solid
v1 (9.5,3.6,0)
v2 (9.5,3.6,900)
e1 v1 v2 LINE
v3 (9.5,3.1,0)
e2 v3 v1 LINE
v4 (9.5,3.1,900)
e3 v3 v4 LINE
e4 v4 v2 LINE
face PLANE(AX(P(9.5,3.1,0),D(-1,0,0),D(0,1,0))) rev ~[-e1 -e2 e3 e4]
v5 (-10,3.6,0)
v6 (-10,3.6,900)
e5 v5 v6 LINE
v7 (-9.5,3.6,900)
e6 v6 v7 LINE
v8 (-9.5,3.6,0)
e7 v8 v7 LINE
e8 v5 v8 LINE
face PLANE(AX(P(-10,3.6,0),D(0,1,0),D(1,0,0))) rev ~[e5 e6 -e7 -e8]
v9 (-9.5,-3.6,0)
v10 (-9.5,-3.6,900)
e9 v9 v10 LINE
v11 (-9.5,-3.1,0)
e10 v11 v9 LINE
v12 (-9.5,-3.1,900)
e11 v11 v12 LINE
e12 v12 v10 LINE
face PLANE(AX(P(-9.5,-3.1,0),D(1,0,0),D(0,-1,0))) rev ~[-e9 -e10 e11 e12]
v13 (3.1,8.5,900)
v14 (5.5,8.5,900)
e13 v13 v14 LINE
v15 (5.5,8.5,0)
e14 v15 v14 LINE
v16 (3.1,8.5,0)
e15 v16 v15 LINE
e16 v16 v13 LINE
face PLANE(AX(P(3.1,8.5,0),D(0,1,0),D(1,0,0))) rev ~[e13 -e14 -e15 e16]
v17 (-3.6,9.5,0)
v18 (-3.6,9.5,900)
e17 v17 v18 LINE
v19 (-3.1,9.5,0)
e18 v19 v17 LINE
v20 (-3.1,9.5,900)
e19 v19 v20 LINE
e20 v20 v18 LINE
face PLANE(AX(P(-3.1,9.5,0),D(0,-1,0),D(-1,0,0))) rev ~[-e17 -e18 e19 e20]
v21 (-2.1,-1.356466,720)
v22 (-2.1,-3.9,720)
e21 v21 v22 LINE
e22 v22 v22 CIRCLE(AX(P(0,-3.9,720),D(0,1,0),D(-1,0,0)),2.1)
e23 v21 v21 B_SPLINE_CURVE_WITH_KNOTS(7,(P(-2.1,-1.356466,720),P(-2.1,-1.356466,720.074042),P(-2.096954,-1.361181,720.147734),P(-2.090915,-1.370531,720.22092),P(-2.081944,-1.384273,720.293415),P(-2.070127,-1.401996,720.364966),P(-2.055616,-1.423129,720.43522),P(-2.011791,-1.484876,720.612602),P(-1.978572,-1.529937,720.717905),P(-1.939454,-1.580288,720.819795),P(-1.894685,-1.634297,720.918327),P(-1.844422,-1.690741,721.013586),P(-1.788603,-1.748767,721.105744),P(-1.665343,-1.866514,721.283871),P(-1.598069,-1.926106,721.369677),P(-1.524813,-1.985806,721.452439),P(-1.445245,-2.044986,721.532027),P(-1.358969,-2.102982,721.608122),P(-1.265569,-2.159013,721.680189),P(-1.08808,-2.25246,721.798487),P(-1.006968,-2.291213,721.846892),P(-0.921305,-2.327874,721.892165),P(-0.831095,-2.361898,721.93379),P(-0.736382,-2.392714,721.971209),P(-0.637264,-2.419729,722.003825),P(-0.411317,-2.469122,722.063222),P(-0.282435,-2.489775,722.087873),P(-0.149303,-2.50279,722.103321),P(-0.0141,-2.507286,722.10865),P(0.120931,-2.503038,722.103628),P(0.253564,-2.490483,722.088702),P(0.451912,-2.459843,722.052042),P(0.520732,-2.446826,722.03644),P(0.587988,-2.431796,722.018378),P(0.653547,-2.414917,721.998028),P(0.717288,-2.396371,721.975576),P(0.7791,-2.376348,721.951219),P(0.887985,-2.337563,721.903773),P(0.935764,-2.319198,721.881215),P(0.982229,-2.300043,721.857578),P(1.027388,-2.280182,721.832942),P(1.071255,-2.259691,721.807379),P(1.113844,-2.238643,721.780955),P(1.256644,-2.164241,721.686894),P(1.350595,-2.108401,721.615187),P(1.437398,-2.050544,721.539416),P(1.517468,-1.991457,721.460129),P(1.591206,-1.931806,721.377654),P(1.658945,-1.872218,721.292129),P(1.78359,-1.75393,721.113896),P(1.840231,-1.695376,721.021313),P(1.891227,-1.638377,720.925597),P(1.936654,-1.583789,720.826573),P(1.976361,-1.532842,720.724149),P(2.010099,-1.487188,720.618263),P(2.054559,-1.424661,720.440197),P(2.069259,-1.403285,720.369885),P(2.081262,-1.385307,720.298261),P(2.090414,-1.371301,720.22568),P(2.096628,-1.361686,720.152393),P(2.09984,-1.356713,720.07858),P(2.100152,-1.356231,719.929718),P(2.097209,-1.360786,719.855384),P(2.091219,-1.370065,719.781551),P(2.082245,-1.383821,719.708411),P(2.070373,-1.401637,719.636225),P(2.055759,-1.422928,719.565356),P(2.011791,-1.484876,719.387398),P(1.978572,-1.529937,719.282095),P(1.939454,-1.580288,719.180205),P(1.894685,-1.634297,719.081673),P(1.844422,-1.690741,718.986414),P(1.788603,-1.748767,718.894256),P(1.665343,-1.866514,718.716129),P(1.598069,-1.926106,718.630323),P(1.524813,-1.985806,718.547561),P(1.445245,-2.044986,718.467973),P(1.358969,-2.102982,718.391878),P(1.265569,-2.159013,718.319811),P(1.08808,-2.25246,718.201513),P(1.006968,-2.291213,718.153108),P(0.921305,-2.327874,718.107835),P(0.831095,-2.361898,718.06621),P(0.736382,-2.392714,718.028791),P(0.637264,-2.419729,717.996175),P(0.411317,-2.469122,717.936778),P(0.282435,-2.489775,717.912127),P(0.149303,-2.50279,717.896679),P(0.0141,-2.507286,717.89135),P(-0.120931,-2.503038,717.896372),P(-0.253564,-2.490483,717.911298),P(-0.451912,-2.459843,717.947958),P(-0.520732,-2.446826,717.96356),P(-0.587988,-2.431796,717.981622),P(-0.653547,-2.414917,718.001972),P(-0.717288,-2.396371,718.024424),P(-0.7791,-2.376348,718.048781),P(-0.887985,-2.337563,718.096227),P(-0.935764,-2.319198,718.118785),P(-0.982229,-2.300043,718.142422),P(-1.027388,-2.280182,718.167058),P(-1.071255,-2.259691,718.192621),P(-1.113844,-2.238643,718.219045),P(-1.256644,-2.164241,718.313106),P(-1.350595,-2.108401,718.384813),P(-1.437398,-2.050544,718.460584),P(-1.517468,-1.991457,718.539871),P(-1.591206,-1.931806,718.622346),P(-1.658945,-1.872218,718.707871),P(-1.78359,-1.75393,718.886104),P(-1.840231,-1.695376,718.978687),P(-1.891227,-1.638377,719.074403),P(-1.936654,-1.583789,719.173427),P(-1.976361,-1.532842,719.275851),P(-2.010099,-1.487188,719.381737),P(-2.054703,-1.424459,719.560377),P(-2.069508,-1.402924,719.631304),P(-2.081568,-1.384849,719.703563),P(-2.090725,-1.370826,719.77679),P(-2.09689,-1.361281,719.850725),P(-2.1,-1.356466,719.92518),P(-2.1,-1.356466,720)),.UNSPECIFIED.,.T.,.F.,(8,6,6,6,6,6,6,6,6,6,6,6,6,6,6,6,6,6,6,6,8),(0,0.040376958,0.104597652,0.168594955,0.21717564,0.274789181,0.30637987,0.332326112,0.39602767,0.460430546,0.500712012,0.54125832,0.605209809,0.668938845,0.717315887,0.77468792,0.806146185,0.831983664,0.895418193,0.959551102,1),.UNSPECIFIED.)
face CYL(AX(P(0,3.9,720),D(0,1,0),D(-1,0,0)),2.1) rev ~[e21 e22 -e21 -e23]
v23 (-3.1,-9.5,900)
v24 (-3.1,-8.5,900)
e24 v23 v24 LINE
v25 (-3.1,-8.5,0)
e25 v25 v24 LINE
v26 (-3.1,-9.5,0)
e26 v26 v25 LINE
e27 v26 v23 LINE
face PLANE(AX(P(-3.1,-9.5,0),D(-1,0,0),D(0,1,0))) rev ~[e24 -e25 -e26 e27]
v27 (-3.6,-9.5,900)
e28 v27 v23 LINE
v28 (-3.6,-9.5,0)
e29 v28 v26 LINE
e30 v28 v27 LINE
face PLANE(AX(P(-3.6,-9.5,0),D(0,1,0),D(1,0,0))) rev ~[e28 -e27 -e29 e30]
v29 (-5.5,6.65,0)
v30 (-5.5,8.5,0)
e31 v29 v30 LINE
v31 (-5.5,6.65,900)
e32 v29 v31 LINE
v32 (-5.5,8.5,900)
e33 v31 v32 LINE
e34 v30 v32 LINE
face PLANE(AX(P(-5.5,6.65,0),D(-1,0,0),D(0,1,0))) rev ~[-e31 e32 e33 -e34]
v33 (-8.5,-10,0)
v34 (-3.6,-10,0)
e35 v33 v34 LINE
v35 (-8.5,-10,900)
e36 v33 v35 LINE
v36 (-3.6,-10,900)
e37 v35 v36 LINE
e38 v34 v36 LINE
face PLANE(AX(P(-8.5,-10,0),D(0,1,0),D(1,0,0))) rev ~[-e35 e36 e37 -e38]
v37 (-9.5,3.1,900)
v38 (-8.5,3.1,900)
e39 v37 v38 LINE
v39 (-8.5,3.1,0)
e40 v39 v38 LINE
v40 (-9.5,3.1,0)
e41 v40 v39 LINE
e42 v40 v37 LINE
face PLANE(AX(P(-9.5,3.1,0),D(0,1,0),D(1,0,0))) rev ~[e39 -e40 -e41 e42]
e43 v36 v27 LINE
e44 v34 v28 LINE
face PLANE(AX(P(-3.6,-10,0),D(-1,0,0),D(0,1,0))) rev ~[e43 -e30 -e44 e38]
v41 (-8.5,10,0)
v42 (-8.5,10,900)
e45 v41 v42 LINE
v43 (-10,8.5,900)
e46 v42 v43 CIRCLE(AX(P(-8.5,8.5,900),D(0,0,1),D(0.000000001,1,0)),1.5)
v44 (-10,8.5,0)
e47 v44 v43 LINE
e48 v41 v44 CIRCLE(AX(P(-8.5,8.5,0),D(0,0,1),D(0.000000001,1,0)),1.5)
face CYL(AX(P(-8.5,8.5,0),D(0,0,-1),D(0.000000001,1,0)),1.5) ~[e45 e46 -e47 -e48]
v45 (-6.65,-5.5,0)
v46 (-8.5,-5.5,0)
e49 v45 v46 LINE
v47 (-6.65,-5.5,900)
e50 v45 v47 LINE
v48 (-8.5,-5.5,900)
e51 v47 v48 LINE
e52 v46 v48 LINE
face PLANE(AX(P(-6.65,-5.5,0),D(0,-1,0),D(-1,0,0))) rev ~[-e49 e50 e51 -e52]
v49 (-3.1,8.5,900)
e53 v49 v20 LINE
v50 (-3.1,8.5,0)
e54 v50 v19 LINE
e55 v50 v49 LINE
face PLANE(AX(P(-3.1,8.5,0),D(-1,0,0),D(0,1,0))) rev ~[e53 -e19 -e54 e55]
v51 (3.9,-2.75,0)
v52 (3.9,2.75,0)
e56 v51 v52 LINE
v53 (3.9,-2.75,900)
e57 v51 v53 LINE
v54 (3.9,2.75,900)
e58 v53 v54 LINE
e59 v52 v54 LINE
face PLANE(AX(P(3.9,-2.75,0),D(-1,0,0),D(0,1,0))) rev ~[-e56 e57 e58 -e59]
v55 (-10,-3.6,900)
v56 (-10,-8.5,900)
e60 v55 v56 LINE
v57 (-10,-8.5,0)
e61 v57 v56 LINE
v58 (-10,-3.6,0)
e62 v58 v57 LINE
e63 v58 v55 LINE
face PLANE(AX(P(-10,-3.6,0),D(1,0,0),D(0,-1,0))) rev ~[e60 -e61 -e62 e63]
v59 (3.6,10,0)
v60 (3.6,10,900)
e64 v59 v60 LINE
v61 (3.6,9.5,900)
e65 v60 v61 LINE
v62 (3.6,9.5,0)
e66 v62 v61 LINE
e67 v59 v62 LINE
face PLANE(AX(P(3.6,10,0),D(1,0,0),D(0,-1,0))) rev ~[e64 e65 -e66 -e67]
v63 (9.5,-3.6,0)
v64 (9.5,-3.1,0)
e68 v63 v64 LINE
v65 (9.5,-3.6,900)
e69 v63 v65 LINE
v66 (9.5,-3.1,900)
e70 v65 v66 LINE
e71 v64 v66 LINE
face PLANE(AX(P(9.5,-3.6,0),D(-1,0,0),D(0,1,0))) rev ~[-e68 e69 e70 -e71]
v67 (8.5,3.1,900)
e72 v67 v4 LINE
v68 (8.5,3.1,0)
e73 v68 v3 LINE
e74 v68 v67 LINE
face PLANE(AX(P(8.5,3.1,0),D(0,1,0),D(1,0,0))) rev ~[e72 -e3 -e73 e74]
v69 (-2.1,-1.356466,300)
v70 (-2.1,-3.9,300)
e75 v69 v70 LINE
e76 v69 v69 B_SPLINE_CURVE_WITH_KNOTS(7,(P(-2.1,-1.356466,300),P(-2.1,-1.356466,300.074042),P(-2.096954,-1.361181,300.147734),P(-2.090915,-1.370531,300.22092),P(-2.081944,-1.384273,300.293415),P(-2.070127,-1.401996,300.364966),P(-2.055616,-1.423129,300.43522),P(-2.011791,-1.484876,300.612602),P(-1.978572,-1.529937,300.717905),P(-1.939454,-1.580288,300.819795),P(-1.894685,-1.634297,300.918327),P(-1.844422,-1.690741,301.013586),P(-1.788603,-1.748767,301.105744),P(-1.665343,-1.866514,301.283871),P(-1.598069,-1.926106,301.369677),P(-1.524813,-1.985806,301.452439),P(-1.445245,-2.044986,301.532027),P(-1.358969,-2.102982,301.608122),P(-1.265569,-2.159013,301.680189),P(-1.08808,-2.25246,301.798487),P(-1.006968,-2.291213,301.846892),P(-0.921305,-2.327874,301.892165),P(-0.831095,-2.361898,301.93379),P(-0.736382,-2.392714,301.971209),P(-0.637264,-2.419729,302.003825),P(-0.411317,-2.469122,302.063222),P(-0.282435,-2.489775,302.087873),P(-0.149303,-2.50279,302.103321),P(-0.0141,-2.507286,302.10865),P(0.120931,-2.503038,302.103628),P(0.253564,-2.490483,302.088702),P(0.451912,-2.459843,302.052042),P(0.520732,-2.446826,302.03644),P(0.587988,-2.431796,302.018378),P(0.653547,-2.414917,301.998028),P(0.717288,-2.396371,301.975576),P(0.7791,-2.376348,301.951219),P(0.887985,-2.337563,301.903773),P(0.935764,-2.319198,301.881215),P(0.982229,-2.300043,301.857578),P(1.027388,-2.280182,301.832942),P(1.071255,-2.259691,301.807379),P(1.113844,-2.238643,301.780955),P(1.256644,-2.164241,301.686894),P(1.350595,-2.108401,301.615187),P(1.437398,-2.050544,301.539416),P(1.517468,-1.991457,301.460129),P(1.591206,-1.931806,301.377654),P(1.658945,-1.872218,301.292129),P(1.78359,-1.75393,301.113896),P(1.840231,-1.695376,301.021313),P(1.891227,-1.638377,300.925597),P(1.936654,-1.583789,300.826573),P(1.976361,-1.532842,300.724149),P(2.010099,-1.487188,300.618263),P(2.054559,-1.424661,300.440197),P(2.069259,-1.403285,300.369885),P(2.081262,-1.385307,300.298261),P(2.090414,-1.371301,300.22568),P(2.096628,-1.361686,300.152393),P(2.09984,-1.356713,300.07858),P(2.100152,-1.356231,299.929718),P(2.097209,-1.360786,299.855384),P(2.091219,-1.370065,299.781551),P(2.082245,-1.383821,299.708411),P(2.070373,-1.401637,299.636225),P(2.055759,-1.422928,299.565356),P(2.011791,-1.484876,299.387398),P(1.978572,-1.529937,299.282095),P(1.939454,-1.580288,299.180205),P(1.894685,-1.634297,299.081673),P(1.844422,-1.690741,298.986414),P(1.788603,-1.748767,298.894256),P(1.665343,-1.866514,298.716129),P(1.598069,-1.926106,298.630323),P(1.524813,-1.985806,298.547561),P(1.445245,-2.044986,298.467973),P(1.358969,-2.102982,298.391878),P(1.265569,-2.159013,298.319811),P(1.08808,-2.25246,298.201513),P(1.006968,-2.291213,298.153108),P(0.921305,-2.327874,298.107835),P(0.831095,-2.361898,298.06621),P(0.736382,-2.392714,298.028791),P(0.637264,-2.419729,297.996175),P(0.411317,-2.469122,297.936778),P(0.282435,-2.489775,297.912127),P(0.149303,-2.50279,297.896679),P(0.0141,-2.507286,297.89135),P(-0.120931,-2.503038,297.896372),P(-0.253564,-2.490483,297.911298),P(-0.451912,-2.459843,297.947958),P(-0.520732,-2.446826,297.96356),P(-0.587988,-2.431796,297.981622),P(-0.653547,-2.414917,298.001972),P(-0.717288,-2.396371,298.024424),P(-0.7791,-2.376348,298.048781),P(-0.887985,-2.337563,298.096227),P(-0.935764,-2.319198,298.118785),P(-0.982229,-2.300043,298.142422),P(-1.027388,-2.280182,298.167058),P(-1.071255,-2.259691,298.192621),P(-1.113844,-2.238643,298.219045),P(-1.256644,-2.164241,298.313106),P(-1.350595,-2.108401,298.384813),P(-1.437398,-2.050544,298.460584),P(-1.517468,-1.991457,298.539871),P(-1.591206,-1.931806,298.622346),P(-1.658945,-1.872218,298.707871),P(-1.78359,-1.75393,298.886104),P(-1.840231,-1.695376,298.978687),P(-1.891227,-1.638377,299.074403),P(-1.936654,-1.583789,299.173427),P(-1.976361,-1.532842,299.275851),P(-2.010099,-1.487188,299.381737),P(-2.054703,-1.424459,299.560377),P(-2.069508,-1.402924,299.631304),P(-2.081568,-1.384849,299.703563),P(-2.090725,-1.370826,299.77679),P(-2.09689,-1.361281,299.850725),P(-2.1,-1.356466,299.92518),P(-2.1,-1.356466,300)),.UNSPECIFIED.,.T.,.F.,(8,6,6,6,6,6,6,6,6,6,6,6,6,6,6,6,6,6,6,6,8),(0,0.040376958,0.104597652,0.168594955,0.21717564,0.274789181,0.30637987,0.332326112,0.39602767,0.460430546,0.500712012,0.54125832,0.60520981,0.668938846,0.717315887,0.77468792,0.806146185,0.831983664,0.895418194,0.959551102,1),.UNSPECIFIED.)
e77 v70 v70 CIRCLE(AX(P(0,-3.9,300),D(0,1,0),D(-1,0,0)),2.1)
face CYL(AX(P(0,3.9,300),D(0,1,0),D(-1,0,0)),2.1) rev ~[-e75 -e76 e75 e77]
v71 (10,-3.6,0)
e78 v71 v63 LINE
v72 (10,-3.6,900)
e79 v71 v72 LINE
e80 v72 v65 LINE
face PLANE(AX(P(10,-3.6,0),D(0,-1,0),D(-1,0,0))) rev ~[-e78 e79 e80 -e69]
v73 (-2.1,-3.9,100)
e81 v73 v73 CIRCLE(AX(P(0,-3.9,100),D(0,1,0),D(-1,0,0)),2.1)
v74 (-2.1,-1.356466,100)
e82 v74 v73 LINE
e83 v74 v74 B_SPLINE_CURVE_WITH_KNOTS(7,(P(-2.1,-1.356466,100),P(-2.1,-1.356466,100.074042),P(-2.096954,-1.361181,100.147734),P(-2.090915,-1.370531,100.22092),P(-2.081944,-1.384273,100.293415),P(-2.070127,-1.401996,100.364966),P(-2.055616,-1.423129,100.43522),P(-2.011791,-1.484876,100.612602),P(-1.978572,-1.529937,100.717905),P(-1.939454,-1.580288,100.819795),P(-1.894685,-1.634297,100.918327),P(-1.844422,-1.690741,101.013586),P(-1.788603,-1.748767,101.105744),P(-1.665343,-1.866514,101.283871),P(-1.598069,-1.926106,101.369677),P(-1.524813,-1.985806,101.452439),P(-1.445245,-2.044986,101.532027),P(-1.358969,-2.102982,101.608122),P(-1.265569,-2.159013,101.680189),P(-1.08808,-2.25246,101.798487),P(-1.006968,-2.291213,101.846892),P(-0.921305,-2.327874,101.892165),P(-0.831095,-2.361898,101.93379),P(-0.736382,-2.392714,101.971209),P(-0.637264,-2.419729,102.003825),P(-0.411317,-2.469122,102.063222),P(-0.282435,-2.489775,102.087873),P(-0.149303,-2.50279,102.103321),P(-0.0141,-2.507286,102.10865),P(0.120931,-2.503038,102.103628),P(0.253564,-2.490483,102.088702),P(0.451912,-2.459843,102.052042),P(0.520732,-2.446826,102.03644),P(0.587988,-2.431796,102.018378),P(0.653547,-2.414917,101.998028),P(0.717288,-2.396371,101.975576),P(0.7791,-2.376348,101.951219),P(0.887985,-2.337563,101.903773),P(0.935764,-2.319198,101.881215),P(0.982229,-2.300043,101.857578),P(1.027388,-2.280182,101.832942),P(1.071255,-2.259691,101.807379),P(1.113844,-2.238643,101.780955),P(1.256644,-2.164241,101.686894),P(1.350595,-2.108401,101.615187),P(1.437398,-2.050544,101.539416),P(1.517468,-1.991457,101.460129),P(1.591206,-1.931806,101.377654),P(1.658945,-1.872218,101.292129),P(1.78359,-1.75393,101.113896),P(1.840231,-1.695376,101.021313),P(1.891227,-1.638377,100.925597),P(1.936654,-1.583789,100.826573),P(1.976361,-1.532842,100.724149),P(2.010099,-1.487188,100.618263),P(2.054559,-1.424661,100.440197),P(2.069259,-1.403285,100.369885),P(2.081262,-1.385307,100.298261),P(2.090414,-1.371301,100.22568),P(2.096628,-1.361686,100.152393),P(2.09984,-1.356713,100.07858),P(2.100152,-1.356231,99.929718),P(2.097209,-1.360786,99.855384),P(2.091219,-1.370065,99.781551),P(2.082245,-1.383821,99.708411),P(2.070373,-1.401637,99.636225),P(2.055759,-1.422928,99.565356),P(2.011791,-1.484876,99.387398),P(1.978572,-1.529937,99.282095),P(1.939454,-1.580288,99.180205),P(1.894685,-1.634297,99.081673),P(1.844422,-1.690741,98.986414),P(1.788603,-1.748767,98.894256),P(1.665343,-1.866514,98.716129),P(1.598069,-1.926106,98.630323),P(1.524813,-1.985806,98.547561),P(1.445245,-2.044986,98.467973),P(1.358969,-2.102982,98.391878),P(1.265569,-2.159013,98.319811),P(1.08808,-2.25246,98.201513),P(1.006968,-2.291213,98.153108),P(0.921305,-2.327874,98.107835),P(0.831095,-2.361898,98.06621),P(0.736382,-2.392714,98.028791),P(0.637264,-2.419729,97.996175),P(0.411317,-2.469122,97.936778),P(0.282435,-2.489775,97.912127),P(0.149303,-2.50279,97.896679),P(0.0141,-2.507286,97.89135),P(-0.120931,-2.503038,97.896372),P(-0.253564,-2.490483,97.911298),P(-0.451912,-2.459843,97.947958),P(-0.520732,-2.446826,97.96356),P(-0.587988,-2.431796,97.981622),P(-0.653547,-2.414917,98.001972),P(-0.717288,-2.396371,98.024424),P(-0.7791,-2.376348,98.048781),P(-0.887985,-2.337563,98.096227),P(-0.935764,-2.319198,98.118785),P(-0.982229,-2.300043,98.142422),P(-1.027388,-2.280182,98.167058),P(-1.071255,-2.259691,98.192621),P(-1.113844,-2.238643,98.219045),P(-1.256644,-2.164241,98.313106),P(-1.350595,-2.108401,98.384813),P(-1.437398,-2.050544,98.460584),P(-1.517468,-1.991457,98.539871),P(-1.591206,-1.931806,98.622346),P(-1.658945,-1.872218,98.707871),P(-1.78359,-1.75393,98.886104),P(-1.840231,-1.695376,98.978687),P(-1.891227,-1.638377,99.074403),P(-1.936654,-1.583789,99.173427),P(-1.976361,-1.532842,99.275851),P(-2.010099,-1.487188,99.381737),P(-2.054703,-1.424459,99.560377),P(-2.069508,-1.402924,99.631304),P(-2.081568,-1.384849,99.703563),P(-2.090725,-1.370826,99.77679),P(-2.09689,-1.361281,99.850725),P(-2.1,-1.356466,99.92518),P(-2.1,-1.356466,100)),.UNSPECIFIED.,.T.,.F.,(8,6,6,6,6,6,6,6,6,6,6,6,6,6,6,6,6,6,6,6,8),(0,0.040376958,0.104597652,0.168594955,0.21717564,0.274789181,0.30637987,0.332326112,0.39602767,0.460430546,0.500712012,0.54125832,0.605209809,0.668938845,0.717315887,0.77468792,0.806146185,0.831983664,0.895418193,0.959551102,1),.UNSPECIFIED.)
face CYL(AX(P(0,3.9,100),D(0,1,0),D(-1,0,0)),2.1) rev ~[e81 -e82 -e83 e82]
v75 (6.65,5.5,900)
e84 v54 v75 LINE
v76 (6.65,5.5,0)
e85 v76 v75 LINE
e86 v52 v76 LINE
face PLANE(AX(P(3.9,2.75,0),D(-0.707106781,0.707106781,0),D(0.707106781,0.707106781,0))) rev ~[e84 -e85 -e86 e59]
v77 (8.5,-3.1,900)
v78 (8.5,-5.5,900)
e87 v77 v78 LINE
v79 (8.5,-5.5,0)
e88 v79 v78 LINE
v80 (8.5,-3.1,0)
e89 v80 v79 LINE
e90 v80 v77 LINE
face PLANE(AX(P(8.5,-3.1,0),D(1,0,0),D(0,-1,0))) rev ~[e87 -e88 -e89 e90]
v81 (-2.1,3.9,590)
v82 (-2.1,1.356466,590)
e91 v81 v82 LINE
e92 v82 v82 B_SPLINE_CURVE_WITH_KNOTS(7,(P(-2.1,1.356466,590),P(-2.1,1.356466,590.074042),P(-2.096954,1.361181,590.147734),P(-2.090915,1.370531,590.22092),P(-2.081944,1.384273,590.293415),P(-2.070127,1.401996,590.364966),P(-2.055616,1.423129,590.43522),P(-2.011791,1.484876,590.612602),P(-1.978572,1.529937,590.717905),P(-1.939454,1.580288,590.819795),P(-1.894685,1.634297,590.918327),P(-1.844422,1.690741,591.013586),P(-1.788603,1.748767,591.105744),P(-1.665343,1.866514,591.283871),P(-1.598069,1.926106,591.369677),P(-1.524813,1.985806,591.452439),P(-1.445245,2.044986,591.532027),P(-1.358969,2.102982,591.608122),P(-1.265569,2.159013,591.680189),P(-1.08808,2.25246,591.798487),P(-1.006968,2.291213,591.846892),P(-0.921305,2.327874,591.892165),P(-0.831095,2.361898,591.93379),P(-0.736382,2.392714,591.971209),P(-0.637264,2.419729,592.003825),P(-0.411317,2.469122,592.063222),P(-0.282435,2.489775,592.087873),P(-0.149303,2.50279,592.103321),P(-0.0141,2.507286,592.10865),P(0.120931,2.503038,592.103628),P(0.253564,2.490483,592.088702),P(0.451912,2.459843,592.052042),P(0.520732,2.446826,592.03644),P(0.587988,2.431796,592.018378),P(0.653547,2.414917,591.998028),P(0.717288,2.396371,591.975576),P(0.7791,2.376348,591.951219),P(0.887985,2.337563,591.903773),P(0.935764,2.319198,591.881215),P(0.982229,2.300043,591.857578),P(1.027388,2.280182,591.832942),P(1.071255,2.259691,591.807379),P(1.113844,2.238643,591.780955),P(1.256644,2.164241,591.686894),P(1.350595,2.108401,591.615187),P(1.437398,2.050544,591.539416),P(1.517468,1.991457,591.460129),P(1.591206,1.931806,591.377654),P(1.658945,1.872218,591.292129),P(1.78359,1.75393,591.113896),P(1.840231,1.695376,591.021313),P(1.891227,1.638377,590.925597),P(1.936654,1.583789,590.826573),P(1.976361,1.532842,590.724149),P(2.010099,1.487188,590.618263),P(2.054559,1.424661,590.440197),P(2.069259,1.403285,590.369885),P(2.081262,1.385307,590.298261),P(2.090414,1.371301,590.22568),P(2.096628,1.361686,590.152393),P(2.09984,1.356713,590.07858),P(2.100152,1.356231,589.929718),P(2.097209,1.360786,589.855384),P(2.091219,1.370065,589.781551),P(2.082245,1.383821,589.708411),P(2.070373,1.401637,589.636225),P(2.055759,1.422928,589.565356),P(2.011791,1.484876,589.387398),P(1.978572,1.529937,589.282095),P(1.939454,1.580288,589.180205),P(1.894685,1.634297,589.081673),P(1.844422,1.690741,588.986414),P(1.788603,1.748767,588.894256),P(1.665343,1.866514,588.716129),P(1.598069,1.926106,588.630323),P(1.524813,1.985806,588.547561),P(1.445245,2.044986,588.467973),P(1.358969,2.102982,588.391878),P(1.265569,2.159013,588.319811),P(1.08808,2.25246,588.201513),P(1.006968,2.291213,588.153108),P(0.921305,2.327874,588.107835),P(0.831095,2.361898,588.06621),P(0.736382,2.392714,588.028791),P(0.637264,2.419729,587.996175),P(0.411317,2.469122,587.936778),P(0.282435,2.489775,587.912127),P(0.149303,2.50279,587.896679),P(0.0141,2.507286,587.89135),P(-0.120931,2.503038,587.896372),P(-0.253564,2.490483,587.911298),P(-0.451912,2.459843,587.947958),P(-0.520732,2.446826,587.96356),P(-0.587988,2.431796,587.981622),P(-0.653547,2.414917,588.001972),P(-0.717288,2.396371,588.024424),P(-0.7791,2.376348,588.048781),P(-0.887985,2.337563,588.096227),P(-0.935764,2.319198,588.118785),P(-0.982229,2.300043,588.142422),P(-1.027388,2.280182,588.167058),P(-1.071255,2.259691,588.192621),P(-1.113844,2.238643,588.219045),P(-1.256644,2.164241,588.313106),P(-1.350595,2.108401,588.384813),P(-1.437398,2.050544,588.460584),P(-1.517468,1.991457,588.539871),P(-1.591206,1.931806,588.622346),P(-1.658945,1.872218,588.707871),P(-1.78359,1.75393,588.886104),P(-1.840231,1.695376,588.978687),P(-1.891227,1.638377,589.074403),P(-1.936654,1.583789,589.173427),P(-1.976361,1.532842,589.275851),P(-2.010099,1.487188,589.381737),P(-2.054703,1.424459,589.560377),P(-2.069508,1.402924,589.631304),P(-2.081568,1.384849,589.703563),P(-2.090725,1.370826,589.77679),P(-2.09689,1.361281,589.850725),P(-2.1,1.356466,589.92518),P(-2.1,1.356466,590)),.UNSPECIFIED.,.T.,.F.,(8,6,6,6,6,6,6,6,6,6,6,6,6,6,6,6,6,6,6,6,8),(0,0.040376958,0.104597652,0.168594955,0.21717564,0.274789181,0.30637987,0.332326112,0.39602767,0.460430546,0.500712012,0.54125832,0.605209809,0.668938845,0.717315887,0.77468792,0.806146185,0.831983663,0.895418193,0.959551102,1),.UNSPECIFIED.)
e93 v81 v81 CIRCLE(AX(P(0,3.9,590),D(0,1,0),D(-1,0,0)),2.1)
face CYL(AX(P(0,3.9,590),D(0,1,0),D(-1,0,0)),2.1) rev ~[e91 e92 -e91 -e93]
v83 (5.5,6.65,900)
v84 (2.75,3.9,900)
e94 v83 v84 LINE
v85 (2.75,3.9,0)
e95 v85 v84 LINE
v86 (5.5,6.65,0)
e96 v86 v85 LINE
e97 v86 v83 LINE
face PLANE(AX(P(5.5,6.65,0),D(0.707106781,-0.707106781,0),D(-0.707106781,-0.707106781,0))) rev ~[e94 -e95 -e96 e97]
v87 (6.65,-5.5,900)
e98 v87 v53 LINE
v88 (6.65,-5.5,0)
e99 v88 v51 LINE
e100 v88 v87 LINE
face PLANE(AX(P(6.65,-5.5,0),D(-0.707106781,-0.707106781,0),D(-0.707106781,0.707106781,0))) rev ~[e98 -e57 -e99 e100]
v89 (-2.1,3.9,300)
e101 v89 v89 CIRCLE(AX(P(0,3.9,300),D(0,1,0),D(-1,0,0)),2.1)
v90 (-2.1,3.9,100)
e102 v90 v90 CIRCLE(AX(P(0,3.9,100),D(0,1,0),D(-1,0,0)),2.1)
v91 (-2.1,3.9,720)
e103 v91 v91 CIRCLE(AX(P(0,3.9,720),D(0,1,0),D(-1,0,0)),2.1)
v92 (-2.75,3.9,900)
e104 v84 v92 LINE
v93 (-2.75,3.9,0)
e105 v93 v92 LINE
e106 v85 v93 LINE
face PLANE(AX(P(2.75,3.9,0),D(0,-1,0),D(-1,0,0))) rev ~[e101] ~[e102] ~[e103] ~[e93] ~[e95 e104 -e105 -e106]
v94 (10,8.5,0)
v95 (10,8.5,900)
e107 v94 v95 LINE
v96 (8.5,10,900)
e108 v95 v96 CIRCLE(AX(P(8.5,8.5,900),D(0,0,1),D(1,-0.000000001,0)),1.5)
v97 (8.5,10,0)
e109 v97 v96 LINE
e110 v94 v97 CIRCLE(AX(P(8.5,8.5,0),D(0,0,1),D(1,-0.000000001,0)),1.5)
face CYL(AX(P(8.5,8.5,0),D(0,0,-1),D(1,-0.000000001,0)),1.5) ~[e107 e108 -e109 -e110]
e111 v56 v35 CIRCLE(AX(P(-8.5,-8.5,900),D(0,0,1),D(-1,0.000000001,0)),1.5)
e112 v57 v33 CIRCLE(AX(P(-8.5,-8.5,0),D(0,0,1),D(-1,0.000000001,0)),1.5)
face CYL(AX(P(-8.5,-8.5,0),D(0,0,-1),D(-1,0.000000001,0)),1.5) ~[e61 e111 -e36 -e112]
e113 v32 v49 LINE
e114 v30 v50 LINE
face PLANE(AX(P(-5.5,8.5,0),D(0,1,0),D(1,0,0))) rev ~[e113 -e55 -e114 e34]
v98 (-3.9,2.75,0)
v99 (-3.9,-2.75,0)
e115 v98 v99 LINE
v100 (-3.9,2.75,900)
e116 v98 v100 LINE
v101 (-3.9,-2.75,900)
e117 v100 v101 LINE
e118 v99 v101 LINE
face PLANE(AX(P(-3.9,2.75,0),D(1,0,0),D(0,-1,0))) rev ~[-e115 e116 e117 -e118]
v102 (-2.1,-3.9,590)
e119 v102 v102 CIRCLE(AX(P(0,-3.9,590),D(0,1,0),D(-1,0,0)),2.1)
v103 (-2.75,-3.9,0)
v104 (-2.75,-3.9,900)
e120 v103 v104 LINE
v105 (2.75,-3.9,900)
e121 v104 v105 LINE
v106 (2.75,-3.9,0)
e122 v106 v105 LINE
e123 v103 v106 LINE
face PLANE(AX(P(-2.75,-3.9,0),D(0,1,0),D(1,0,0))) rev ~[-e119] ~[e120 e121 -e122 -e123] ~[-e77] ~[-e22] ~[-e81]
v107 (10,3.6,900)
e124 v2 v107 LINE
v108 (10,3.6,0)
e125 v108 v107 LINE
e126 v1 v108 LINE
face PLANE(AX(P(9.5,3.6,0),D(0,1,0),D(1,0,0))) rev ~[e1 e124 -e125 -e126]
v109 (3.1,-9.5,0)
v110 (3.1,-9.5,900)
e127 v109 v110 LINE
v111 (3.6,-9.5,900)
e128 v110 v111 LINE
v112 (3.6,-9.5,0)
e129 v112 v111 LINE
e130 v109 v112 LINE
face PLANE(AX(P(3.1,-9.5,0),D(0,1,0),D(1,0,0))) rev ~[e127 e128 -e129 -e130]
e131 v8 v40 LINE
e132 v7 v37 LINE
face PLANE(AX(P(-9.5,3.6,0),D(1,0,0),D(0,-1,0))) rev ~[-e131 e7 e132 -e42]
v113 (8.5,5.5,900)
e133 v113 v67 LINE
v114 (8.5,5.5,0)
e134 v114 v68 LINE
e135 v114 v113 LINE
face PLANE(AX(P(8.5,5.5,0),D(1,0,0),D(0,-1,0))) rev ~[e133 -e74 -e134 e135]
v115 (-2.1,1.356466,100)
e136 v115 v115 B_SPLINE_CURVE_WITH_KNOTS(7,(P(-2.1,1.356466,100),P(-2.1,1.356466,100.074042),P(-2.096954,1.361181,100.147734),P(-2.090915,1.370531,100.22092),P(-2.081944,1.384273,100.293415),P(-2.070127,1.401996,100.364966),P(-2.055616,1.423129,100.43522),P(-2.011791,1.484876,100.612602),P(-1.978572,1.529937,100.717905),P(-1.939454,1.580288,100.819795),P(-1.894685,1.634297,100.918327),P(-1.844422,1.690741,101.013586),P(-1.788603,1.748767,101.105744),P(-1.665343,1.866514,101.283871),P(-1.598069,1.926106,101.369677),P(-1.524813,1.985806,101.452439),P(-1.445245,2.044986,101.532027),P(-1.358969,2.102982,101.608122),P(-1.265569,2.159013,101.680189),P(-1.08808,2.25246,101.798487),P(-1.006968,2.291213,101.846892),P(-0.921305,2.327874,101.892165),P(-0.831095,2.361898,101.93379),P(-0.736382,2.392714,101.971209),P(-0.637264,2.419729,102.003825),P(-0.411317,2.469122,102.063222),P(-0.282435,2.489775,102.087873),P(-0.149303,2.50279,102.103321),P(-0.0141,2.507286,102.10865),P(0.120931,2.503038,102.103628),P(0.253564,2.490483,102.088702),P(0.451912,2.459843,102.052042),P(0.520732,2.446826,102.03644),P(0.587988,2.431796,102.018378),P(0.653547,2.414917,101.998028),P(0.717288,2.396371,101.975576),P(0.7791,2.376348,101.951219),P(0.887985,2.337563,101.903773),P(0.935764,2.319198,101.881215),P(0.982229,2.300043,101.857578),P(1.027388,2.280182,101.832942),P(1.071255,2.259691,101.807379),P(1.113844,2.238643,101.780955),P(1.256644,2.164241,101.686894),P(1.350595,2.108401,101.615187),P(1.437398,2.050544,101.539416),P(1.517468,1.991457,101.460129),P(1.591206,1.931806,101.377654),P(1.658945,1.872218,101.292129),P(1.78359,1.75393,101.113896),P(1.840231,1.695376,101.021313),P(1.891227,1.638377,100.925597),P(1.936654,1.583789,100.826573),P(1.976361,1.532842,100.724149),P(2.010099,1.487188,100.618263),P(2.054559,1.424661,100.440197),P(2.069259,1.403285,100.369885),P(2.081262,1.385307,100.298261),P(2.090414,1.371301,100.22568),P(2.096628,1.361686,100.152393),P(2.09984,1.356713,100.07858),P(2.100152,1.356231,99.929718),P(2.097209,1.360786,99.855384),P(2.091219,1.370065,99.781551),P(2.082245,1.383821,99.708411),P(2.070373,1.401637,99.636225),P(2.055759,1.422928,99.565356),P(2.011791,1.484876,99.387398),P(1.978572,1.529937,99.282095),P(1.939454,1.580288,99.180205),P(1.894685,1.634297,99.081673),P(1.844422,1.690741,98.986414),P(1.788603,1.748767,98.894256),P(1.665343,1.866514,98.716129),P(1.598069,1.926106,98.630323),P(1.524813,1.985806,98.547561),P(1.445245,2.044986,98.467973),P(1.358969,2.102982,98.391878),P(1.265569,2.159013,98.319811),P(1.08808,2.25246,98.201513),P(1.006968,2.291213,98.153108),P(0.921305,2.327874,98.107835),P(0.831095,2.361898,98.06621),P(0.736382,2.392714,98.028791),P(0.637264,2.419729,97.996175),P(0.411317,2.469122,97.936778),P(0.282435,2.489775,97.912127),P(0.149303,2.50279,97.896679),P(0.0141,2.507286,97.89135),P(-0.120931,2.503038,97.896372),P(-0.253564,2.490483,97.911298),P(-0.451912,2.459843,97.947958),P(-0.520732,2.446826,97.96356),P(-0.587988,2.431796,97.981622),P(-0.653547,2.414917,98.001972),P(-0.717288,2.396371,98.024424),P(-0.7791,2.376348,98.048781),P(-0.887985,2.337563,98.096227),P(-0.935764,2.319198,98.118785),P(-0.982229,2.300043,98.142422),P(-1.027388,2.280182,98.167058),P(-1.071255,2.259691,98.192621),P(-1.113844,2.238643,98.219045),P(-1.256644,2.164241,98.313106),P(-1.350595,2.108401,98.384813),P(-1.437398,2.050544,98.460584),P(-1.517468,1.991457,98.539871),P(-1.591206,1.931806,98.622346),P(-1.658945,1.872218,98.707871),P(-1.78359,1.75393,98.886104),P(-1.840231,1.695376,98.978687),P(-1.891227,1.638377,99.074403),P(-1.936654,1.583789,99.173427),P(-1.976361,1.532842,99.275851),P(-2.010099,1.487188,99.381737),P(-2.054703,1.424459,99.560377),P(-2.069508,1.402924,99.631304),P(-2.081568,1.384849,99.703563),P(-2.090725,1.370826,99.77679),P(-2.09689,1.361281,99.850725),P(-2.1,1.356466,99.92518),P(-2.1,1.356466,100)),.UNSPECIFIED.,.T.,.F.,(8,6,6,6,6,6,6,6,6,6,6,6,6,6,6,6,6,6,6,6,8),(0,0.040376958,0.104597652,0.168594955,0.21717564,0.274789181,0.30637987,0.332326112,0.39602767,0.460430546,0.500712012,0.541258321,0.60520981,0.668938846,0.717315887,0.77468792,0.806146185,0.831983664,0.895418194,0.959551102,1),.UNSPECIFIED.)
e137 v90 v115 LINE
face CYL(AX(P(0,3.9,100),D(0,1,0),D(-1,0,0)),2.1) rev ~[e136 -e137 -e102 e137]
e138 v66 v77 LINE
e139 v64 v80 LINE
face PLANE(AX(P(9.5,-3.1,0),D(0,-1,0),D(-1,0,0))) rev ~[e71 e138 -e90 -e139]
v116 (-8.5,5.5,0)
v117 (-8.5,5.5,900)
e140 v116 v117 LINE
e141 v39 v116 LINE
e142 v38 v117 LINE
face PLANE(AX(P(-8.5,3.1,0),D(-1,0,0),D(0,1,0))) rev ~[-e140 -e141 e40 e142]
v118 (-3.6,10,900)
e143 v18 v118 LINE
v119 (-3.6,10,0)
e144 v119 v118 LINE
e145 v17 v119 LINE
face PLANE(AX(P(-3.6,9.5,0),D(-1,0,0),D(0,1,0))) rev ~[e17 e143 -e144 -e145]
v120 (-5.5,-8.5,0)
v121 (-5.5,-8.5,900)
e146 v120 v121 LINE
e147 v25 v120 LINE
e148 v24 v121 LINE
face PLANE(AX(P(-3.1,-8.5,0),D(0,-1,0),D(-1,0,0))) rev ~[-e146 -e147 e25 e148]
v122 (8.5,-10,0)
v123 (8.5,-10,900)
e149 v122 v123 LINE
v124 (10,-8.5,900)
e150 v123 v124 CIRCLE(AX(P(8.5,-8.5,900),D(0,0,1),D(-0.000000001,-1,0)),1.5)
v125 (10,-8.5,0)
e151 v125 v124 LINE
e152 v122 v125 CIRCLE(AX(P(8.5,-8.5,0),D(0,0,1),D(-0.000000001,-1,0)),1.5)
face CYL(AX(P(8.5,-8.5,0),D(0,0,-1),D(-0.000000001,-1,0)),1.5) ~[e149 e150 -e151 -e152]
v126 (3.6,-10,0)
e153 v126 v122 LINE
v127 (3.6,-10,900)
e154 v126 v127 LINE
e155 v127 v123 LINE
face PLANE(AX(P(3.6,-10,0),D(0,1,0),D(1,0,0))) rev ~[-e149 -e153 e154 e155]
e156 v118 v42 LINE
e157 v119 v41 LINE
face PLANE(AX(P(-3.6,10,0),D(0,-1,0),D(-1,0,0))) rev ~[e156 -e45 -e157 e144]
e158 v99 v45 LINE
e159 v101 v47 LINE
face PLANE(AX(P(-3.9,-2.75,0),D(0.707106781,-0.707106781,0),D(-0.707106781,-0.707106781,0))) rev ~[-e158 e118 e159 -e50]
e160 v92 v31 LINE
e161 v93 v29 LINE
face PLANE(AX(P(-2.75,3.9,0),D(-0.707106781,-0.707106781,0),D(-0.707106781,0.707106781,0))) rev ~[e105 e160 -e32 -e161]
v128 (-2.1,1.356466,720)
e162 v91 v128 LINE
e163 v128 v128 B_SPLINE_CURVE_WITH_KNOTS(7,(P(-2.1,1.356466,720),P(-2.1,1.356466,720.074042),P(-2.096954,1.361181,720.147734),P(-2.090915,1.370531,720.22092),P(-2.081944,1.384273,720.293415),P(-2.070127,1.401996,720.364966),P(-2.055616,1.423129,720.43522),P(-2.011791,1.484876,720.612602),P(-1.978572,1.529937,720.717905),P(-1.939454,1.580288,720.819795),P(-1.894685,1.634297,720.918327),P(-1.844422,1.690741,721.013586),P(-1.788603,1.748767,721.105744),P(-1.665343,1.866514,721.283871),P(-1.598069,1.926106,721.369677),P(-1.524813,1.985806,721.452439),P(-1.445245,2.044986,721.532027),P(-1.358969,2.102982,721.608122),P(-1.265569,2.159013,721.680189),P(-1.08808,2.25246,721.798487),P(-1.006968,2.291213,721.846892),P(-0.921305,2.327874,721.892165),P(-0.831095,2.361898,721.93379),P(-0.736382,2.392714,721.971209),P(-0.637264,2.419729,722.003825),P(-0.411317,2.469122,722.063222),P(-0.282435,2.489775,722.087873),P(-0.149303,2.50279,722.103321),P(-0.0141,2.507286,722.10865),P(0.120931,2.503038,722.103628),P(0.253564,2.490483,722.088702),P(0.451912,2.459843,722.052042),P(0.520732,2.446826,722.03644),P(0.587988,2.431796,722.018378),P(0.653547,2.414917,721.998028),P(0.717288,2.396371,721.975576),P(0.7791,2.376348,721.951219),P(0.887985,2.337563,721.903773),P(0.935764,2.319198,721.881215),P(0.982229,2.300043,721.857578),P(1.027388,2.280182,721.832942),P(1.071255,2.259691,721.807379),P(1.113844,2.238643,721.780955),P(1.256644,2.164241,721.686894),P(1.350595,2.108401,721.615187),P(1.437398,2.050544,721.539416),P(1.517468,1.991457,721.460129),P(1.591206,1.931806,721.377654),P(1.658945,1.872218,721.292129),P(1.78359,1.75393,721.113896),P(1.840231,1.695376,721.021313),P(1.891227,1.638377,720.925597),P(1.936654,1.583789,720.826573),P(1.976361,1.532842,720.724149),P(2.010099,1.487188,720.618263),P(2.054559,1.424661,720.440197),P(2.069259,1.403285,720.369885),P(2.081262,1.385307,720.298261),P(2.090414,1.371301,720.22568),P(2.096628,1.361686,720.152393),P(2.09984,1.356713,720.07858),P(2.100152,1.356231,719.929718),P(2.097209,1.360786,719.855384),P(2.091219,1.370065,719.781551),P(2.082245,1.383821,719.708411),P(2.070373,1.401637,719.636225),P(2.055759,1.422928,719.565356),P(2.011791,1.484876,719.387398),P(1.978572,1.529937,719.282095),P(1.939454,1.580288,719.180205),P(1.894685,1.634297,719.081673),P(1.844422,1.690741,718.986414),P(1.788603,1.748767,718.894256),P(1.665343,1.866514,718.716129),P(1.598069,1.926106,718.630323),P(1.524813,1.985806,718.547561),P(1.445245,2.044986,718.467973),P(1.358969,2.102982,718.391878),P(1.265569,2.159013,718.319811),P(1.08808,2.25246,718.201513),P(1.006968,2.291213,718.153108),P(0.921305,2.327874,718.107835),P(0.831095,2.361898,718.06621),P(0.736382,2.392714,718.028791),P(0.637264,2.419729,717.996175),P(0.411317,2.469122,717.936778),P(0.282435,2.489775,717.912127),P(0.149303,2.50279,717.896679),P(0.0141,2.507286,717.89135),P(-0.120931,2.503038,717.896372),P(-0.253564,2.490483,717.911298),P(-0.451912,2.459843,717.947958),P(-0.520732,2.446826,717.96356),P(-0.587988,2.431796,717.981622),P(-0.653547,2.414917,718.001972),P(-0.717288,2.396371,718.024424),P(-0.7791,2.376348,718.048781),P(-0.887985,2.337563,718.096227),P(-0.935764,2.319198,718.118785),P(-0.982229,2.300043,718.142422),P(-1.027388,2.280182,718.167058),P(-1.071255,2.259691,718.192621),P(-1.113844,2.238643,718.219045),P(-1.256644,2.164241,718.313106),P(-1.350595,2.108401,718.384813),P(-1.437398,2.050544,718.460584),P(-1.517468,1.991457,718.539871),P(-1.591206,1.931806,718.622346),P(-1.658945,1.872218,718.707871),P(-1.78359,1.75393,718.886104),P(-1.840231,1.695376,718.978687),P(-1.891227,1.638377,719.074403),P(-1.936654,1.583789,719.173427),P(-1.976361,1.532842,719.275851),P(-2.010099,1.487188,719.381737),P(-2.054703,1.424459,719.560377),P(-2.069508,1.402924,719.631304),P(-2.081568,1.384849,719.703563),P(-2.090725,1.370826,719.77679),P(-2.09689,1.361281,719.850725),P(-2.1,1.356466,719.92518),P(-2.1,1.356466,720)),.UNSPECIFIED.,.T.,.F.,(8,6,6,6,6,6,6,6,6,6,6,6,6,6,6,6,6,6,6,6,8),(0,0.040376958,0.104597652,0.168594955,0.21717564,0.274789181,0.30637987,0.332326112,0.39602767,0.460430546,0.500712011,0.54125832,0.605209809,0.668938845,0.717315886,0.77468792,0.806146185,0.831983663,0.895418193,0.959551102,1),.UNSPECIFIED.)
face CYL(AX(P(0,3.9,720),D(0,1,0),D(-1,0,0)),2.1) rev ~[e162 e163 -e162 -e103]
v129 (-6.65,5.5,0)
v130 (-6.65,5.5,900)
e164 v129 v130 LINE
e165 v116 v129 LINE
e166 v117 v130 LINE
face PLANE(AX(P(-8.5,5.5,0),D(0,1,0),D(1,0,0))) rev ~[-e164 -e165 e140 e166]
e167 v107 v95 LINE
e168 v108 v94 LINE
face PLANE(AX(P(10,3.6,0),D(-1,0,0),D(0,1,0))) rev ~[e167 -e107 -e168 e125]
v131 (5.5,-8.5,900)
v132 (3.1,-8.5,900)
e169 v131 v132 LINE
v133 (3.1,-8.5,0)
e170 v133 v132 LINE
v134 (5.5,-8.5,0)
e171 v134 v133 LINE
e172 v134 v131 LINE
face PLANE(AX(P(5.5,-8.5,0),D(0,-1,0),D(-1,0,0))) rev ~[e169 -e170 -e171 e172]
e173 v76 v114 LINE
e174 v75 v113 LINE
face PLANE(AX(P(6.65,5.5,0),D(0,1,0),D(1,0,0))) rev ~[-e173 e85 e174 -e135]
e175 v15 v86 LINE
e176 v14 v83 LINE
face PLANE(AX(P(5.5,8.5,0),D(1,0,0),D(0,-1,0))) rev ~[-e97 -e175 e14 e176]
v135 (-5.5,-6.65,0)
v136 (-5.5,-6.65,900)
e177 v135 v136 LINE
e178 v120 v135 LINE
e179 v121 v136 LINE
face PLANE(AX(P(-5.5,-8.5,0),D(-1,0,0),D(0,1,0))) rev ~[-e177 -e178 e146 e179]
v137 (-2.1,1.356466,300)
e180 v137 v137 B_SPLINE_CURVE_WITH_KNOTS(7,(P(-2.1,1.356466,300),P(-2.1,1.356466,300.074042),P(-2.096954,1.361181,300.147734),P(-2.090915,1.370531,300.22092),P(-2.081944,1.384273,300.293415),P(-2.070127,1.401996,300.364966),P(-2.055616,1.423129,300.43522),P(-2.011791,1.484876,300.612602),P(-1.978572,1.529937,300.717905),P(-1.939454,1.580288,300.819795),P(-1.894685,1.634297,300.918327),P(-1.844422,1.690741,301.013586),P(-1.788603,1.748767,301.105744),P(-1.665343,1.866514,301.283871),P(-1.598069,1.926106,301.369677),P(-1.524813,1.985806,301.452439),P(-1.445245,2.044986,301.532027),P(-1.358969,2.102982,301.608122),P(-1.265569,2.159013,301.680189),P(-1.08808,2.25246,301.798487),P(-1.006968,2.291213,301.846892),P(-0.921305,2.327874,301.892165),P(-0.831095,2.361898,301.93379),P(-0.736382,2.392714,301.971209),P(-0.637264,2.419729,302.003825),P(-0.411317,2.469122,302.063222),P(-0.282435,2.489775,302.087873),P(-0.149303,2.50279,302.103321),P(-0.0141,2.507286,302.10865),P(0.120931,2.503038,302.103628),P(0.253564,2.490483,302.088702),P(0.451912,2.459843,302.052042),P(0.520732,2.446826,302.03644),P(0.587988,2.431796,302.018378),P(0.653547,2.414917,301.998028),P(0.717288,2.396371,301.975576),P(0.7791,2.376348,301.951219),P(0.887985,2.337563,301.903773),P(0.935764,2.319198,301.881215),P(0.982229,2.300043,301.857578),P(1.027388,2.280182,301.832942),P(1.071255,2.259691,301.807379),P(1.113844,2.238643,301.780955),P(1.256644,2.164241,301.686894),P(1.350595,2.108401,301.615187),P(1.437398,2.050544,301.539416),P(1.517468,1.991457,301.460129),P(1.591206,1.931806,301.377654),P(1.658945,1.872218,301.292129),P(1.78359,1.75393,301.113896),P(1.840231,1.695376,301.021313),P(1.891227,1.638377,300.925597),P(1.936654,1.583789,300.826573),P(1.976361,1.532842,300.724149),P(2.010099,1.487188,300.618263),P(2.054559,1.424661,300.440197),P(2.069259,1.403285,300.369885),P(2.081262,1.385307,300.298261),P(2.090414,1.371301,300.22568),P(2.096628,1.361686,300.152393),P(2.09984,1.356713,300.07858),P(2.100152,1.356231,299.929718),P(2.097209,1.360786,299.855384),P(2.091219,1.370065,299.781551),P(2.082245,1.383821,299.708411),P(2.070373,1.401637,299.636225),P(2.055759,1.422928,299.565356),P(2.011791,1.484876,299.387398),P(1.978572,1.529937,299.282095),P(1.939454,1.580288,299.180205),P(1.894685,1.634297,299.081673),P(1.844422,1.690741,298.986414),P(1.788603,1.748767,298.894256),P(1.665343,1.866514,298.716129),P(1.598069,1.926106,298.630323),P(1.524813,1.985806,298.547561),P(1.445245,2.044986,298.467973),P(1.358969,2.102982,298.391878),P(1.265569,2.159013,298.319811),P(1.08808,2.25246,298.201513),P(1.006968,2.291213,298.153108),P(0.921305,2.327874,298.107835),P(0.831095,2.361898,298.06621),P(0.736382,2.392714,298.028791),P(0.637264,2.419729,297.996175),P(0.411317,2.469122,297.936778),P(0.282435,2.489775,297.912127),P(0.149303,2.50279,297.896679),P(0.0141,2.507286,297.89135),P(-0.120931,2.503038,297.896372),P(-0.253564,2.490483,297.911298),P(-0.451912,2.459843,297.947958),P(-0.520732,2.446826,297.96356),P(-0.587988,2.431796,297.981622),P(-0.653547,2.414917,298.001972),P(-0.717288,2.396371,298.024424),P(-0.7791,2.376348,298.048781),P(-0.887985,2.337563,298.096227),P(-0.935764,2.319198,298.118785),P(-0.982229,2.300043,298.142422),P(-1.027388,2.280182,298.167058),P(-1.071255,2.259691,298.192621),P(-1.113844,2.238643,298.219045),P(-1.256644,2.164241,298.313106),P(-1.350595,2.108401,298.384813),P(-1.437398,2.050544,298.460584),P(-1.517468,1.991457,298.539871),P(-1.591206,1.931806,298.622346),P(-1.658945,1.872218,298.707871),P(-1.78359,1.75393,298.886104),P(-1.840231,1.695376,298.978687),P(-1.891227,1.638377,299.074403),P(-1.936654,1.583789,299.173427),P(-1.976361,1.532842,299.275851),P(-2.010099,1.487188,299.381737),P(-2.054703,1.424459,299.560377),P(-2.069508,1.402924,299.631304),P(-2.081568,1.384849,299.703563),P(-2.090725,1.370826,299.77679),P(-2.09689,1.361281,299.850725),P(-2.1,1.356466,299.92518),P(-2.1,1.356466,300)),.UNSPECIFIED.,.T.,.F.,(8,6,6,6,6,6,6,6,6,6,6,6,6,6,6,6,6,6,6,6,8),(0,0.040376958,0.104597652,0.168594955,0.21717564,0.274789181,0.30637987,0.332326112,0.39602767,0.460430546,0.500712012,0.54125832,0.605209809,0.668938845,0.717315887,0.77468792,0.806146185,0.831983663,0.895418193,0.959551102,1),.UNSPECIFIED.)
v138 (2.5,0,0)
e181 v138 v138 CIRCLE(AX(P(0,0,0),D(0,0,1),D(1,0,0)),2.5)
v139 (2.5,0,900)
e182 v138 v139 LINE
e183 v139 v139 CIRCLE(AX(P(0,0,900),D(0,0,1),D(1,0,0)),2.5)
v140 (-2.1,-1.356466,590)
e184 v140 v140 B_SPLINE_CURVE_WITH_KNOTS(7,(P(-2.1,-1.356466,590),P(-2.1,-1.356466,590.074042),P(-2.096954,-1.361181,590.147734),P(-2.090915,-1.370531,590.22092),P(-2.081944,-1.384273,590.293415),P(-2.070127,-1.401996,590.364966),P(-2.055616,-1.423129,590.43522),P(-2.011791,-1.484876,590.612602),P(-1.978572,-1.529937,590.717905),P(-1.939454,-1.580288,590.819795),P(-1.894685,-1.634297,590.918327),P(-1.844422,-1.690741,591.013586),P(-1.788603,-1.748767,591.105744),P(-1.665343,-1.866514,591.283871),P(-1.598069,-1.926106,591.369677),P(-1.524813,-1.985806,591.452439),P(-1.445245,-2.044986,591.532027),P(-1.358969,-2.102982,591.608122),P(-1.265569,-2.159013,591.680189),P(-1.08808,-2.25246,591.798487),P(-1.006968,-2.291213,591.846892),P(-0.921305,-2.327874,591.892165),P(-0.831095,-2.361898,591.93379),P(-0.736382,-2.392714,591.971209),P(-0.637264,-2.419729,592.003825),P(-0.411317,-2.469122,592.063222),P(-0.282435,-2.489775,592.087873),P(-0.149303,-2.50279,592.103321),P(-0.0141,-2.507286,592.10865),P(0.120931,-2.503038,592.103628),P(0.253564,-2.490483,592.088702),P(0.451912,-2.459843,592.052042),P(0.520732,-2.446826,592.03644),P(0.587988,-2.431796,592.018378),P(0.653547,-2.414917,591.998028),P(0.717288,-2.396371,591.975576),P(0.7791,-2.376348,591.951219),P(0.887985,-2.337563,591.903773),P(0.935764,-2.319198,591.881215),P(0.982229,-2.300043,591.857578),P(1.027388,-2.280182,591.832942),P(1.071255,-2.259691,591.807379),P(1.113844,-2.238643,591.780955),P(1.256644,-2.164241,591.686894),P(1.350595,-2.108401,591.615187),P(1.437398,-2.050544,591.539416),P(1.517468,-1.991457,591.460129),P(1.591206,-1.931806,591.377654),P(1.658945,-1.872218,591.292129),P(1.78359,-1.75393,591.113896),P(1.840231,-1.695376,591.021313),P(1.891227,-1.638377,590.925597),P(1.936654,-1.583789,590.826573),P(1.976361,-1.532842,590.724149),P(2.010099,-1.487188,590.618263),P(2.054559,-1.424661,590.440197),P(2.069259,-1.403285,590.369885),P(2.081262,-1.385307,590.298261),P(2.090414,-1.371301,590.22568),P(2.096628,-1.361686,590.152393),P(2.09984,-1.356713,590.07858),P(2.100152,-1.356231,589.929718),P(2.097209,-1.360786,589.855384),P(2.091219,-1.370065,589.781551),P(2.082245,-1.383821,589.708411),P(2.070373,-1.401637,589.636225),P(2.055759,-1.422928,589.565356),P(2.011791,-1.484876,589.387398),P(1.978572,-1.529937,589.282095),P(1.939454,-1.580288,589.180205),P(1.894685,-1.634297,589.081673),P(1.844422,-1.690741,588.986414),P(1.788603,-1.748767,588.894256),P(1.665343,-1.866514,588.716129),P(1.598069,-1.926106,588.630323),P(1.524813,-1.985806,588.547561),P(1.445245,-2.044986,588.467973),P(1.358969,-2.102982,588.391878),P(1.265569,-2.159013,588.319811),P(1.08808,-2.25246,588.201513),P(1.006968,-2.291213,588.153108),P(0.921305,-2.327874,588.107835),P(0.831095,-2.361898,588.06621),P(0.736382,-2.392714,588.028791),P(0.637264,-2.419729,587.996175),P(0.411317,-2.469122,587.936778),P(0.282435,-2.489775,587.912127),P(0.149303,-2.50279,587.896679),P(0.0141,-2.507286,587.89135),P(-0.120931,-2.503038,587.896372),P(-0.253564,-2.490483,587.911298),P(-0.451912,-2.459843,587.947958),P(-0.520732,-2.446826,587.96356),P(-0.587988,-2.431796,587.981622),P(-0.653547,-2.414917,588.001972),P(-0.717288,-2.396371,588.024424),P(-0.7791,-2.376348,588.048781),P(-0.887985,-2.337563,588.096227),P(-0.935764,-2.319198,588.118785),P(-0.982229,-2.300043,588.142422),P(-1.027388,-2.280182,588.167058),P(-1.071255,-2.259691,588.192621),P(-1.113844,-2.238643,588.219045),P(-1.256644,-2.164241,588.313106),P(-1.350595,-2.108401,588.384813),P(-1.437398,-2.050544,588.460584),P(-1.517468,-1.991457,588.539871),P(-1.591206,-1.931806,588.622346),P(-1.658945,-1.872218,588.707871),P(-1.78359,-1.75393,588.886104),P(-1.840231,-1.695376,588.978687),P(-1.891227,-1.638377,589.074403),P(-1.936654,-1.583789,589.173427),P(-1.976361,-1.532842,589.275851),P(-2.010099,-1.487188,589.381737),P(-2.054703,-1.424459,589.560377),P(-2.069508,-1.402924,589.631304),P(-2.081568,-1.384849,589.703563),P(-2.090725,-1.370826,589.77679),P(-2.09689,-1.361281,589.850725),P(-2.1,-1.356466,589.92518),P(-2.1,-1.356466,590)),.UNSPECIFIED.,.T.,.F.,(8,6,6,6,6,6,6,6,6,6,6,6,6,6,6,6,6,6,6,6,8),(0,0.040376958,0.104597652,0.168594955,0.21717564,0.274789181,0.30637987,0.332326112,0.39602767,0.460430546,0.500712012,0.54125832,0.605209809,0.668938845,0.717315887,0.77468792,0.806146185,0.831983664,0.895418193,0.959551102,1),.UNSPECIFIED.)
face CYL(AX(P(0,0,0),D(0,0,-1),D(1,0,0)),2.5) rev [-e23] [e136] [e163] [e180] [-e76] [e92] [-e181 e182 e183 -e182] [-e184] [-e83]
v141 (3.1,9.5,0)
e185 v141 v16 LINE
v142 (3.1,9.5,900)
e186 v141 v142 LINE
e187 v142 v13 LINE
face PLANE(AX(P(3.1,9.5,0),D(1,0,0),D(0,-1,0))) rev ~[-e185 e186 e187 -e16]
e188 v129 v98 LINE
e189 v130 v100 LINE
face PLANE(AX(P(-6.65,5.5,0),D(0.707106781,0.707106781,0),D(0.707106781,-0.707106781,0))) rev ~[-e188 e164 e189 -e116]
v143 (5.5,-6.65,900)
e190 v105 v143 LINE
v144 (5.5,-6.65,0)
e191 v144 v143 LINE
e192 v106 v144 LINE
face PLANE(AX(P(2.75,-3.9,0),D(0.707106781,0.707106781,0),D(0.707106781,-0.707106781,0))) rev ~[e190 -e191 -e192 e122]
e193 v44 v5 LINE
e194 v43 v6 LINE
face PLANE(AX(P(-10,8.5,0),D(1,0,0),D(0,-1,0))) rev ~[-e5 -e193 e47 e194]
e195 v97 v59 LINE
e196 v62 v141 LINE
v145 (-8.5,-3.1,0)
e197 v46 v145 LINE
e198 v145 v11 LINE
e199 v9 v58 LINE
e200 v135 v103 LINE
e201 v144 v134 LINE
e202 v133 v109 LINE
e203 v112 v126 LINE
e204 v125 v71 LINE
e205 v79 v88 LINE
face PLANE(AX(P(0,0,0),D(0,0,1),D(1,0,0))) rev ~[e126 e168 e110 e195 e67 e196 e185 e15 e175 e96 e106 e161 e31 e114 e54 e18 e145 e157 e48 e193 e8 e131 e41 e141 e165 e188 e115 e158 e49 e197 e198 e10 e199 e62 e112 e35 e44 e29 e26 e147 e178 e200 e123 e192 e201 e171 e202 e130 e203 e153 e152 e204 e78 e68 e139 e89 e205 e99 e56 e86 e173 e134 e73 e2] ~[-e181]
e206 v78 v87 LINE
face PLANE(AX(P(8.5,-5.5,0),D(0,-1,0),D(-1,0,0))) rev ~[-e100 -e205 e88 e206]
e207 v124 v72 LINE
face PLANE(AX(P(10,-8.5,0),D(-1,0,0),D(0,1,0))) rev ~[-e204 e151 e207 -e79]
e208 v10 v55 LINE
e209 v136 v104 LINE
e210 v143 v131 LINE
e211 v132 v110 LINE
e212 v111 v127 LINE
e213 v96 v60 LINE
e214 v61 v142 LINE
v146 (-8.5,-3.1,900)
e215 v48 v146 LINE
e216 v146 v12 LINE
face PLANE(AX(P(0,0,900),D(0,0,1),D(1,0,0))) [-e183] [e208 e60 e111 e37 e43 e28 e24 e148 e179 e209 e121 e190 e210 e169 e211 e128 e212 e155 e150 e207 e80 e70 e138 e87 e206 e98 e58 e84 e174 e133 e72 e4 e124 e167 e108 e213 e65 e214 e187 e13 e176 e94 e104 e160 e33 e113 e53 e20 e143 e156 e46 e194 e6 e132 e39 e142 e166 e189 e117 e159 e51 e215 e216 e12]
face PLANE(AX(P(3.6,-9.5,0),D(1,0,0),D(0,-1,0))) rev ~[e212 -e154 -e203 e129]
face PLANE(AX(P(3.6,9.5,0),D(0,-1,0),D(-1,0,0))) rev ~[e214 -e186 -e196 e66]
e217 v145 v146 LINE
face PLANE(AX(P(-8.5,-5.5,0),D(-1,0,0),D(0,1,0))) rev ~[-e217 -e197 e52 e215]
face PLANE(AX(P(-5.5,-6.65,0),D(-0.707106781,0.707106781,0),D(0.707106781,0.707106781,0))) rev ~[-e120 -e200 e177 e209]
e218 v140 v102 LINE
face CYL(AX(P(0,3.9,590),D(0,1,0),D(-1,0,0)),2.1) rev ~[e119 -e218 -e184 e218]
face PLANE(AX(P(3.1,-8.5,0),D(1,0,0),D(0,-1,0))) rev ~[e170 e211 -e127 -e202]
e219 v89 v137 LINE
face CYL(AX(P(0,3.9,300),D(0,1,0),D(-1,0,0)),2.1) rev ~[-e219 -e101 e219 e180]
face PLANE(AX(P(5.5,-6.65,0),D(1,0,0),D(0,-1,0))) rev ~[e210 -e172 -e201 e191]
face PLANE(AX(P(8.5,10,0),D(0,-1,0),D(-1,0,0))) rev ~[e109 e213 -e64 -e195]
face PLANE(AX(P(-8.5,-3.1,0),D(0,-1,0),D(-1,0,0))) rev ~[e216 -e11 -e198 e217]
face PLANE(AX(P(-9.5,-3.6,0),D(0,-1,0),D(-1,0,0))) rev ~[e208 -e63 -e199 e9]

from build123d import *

# Parameters (mm, degrees)
EXTRUDE_1_DEPTH     = 900
SKETCH_6_R          = 2.1
CUT_EXTRUDE_3_DEPTH = 901.162879706
SKETCH_5_R          = 2.1
CUT_EXTRUDE_4_DEPTH = 901.162879806
SKETCH_7_R          = 2.1
CUT_EXTRUDE_5_DEPTH = 901.162879806


with BuildPart() as part:
    # 草图1 → 凸台-拉伸1 (new body)
    with BuildSketch(Plane.XY):
        with BuildLine():
            Line((8.5, 10), (3.6, 10))
            Line((3.6, 10), (3.6, 9.5))
            Line((3.6, 9.5), (3.1, 9.5))
            Line((3.1, 9.5), (3.1, 8.5))
            Line((3.1, 8.5), (5.5, 8.5))
            Line((5.5, 8.5), (5.5, 6.65))
            Line((5.5, 6.65), (2.75, 3.9))
            Line((2.75, 3.9), (-2.75, 3.9))
            Line((-2.75, 3.9), (-5.5, 6.65))
            Line((-5.5, 6.65), (-5.5, 8.5))
            Line((-5.5, 8.5), (-3.1, 8.5))
            Line((-3.1, 8.5), (-3.1, 9.5))
            Line((-3.1, 9.5), (-3.6, 9.5))
            Line((-3.6, 9.5), (-3.6, 10))
            Line((-3.6, 10), (-8.5, 10))
            ThreePointArc((-8.5, 10), (-9.560660172, 9.560660172), (-10, 8.5))
            Line((-10, 8.5), (-10, 3.6))
            Line((-10, 3.6), (-9.5, 3.6))
            Line((-9.5, 3.6), (-9.5, 3.1))
            Line((-9.5, 3.1), (-8.5, 3.1))
            Line((-8.5, 3.1), (-8.5, 5.5))
            Line((-8.5, 5.5), (-6.65, 5.5))
            Line((-6.65, 5.5), (-3.9, 2.75))
            Line((-3.9, 2.75), (-3.9, -2.75))
            Line((-3.9, -2.75), (-6.65, -5.5))
            Line((-6.65, -5.5), (-8.5, -5.5))
            Line((-8.5, -5.5), (-8.5, -3.1))
            Line((-8.5, -3.1), (-9.5, -3.1))
            Line((-9.5, -3.1), (-9.5, -3.6))
            Line((-9.5, -3.6), (-10, -3.6))
            Line((-10, -3.6), (-10, -8.5))
            ThreePointArc((-10, -8.5), (-9.560660172, -9.560660172), (-8.5, -10))
            Line((-8.5, -10), (-3.6, -10))
            Line((-3.6, -10), (-3.6, -9.5))
            Line((-3.6, -9.5), (-3.1, -9.5))
            Line((-3.1, -9.5), (-3.1, -8.5))
            Line((-3.1, -8.5), (-5.5, -8.5))
            Line((-5.5, -8.5), (-5.5, -6.65))
            Line((-5.5, -6.65), (-2.75, -3.9))
            Line((-2.75, -3.9), (2.75, -3.9))
            Line((2.75, -3.9), (5.5, -6.65))
            Line((5.5, -6.65), (5.5, -8.5))
            Line((5.5, -8.5), (3.1, -8.5))
            Line((3.1, -8.5), (3.1, -9.5))
            Line((3.1, -9.5), (3.6, -9.5))
            Line((3.6, -9.5), (3.6, -10))
            Line((3.6, -10), (8.5, -10))
            ThreePointArc((8.5, -10), (9.560660172, -9.560660172), (10, -8.5))
            Line((10, -8.5), (10, -3.6))
            Line((10, -3.6), (9.5, -3.6))
            Line((9.5, -3.6), (9.5, -3.1))
            Line((9.5, -3.1), (8.5, -3.1))
            Line((8.5, -3.1), (8.5, -5.5))
            Line((8.5, -5.5), (6.65, -5.5))
            Line((6.65, -5.5), (3.9, -2.75))
            Line((3.9, -2.75), (3.9, 2.75))
            Line((3.9, 2.75), (6.65, 5.5))
            Line((6.65, 5.5), (8.5, 5.5))
            Line((8.5, 5.5), (8.5, 3.1))
            Line((8.5, 3.1), (9.5, 3.1))
            Line((9.5, 3.1), (9.5, 3.6))
            Line((9.5, 3.6), (10, 3.6))
            Line((10, 3.6), (10, 8.5))
            ThreePointArc((10, 8.5), (9.560660172, 9.560660172), (8.5, 10))
        make_face()
        with BuildLine():
            ThreePointArc((-2.5, 0), (0, -2.5), (2.5, 0))
            ThreePointArc((2.5, 0), (0, 2.5), (-2.5, 0))
        make_face(mode=Mode.SUBTRACT)
    extrude(amount=EXTRUDE_1_DEPTH)

    # 草图6 → 切除-拉伸3 (cut, through all)
    with BuildSketch(Plane(origin=(0, 3.9, 0), x_dir=(1, 0, 0), z_dir=(0, 1, 0))):
        with Locations(Location((0, -590, 0), (0, 0, 180))):
            Circle(SKETCH_6_R)
    extrude(amount=-CUT_EXTRUDE_3_DEPTH, mode=Mode.SUBTRACT)

    # 草图5 → 切除-拉伸4 (cut, through all)
    with BuildSketch(Plane(origin=(0, 3.9, 0), x_dir=(1, 0, 0), z_dir=(0, 1, 0))):
        with Locations(Location((0, -720, 0), (0, 0, 180))):
            Circle(SKETCH_5_R)
    extrude(amount=-CUT_EXTRUDE_4_DEPTH, mode=Mode.SUBTRACT)

    # 草图7 → 切除-拉伸5 (cut, through all)
    with BuildSketch(Plane(origin=(0, 3.9, 0), x_dir=(1, 0, 0), z_dir=(0, 1, 0))):
        with Locations(Location((0, -300, 0), (0, 0, 180))):
            Circle(SKETCH_7_R)
        with Locations(Location((0, -100, 0), (0, 0, 180))):
            Circle(SKETCH_7_R)
    extrude(amount=-CUT_EXTRUDE_5_DEPTH, mode=Mode.SUBTRACT)


solid = part.part
